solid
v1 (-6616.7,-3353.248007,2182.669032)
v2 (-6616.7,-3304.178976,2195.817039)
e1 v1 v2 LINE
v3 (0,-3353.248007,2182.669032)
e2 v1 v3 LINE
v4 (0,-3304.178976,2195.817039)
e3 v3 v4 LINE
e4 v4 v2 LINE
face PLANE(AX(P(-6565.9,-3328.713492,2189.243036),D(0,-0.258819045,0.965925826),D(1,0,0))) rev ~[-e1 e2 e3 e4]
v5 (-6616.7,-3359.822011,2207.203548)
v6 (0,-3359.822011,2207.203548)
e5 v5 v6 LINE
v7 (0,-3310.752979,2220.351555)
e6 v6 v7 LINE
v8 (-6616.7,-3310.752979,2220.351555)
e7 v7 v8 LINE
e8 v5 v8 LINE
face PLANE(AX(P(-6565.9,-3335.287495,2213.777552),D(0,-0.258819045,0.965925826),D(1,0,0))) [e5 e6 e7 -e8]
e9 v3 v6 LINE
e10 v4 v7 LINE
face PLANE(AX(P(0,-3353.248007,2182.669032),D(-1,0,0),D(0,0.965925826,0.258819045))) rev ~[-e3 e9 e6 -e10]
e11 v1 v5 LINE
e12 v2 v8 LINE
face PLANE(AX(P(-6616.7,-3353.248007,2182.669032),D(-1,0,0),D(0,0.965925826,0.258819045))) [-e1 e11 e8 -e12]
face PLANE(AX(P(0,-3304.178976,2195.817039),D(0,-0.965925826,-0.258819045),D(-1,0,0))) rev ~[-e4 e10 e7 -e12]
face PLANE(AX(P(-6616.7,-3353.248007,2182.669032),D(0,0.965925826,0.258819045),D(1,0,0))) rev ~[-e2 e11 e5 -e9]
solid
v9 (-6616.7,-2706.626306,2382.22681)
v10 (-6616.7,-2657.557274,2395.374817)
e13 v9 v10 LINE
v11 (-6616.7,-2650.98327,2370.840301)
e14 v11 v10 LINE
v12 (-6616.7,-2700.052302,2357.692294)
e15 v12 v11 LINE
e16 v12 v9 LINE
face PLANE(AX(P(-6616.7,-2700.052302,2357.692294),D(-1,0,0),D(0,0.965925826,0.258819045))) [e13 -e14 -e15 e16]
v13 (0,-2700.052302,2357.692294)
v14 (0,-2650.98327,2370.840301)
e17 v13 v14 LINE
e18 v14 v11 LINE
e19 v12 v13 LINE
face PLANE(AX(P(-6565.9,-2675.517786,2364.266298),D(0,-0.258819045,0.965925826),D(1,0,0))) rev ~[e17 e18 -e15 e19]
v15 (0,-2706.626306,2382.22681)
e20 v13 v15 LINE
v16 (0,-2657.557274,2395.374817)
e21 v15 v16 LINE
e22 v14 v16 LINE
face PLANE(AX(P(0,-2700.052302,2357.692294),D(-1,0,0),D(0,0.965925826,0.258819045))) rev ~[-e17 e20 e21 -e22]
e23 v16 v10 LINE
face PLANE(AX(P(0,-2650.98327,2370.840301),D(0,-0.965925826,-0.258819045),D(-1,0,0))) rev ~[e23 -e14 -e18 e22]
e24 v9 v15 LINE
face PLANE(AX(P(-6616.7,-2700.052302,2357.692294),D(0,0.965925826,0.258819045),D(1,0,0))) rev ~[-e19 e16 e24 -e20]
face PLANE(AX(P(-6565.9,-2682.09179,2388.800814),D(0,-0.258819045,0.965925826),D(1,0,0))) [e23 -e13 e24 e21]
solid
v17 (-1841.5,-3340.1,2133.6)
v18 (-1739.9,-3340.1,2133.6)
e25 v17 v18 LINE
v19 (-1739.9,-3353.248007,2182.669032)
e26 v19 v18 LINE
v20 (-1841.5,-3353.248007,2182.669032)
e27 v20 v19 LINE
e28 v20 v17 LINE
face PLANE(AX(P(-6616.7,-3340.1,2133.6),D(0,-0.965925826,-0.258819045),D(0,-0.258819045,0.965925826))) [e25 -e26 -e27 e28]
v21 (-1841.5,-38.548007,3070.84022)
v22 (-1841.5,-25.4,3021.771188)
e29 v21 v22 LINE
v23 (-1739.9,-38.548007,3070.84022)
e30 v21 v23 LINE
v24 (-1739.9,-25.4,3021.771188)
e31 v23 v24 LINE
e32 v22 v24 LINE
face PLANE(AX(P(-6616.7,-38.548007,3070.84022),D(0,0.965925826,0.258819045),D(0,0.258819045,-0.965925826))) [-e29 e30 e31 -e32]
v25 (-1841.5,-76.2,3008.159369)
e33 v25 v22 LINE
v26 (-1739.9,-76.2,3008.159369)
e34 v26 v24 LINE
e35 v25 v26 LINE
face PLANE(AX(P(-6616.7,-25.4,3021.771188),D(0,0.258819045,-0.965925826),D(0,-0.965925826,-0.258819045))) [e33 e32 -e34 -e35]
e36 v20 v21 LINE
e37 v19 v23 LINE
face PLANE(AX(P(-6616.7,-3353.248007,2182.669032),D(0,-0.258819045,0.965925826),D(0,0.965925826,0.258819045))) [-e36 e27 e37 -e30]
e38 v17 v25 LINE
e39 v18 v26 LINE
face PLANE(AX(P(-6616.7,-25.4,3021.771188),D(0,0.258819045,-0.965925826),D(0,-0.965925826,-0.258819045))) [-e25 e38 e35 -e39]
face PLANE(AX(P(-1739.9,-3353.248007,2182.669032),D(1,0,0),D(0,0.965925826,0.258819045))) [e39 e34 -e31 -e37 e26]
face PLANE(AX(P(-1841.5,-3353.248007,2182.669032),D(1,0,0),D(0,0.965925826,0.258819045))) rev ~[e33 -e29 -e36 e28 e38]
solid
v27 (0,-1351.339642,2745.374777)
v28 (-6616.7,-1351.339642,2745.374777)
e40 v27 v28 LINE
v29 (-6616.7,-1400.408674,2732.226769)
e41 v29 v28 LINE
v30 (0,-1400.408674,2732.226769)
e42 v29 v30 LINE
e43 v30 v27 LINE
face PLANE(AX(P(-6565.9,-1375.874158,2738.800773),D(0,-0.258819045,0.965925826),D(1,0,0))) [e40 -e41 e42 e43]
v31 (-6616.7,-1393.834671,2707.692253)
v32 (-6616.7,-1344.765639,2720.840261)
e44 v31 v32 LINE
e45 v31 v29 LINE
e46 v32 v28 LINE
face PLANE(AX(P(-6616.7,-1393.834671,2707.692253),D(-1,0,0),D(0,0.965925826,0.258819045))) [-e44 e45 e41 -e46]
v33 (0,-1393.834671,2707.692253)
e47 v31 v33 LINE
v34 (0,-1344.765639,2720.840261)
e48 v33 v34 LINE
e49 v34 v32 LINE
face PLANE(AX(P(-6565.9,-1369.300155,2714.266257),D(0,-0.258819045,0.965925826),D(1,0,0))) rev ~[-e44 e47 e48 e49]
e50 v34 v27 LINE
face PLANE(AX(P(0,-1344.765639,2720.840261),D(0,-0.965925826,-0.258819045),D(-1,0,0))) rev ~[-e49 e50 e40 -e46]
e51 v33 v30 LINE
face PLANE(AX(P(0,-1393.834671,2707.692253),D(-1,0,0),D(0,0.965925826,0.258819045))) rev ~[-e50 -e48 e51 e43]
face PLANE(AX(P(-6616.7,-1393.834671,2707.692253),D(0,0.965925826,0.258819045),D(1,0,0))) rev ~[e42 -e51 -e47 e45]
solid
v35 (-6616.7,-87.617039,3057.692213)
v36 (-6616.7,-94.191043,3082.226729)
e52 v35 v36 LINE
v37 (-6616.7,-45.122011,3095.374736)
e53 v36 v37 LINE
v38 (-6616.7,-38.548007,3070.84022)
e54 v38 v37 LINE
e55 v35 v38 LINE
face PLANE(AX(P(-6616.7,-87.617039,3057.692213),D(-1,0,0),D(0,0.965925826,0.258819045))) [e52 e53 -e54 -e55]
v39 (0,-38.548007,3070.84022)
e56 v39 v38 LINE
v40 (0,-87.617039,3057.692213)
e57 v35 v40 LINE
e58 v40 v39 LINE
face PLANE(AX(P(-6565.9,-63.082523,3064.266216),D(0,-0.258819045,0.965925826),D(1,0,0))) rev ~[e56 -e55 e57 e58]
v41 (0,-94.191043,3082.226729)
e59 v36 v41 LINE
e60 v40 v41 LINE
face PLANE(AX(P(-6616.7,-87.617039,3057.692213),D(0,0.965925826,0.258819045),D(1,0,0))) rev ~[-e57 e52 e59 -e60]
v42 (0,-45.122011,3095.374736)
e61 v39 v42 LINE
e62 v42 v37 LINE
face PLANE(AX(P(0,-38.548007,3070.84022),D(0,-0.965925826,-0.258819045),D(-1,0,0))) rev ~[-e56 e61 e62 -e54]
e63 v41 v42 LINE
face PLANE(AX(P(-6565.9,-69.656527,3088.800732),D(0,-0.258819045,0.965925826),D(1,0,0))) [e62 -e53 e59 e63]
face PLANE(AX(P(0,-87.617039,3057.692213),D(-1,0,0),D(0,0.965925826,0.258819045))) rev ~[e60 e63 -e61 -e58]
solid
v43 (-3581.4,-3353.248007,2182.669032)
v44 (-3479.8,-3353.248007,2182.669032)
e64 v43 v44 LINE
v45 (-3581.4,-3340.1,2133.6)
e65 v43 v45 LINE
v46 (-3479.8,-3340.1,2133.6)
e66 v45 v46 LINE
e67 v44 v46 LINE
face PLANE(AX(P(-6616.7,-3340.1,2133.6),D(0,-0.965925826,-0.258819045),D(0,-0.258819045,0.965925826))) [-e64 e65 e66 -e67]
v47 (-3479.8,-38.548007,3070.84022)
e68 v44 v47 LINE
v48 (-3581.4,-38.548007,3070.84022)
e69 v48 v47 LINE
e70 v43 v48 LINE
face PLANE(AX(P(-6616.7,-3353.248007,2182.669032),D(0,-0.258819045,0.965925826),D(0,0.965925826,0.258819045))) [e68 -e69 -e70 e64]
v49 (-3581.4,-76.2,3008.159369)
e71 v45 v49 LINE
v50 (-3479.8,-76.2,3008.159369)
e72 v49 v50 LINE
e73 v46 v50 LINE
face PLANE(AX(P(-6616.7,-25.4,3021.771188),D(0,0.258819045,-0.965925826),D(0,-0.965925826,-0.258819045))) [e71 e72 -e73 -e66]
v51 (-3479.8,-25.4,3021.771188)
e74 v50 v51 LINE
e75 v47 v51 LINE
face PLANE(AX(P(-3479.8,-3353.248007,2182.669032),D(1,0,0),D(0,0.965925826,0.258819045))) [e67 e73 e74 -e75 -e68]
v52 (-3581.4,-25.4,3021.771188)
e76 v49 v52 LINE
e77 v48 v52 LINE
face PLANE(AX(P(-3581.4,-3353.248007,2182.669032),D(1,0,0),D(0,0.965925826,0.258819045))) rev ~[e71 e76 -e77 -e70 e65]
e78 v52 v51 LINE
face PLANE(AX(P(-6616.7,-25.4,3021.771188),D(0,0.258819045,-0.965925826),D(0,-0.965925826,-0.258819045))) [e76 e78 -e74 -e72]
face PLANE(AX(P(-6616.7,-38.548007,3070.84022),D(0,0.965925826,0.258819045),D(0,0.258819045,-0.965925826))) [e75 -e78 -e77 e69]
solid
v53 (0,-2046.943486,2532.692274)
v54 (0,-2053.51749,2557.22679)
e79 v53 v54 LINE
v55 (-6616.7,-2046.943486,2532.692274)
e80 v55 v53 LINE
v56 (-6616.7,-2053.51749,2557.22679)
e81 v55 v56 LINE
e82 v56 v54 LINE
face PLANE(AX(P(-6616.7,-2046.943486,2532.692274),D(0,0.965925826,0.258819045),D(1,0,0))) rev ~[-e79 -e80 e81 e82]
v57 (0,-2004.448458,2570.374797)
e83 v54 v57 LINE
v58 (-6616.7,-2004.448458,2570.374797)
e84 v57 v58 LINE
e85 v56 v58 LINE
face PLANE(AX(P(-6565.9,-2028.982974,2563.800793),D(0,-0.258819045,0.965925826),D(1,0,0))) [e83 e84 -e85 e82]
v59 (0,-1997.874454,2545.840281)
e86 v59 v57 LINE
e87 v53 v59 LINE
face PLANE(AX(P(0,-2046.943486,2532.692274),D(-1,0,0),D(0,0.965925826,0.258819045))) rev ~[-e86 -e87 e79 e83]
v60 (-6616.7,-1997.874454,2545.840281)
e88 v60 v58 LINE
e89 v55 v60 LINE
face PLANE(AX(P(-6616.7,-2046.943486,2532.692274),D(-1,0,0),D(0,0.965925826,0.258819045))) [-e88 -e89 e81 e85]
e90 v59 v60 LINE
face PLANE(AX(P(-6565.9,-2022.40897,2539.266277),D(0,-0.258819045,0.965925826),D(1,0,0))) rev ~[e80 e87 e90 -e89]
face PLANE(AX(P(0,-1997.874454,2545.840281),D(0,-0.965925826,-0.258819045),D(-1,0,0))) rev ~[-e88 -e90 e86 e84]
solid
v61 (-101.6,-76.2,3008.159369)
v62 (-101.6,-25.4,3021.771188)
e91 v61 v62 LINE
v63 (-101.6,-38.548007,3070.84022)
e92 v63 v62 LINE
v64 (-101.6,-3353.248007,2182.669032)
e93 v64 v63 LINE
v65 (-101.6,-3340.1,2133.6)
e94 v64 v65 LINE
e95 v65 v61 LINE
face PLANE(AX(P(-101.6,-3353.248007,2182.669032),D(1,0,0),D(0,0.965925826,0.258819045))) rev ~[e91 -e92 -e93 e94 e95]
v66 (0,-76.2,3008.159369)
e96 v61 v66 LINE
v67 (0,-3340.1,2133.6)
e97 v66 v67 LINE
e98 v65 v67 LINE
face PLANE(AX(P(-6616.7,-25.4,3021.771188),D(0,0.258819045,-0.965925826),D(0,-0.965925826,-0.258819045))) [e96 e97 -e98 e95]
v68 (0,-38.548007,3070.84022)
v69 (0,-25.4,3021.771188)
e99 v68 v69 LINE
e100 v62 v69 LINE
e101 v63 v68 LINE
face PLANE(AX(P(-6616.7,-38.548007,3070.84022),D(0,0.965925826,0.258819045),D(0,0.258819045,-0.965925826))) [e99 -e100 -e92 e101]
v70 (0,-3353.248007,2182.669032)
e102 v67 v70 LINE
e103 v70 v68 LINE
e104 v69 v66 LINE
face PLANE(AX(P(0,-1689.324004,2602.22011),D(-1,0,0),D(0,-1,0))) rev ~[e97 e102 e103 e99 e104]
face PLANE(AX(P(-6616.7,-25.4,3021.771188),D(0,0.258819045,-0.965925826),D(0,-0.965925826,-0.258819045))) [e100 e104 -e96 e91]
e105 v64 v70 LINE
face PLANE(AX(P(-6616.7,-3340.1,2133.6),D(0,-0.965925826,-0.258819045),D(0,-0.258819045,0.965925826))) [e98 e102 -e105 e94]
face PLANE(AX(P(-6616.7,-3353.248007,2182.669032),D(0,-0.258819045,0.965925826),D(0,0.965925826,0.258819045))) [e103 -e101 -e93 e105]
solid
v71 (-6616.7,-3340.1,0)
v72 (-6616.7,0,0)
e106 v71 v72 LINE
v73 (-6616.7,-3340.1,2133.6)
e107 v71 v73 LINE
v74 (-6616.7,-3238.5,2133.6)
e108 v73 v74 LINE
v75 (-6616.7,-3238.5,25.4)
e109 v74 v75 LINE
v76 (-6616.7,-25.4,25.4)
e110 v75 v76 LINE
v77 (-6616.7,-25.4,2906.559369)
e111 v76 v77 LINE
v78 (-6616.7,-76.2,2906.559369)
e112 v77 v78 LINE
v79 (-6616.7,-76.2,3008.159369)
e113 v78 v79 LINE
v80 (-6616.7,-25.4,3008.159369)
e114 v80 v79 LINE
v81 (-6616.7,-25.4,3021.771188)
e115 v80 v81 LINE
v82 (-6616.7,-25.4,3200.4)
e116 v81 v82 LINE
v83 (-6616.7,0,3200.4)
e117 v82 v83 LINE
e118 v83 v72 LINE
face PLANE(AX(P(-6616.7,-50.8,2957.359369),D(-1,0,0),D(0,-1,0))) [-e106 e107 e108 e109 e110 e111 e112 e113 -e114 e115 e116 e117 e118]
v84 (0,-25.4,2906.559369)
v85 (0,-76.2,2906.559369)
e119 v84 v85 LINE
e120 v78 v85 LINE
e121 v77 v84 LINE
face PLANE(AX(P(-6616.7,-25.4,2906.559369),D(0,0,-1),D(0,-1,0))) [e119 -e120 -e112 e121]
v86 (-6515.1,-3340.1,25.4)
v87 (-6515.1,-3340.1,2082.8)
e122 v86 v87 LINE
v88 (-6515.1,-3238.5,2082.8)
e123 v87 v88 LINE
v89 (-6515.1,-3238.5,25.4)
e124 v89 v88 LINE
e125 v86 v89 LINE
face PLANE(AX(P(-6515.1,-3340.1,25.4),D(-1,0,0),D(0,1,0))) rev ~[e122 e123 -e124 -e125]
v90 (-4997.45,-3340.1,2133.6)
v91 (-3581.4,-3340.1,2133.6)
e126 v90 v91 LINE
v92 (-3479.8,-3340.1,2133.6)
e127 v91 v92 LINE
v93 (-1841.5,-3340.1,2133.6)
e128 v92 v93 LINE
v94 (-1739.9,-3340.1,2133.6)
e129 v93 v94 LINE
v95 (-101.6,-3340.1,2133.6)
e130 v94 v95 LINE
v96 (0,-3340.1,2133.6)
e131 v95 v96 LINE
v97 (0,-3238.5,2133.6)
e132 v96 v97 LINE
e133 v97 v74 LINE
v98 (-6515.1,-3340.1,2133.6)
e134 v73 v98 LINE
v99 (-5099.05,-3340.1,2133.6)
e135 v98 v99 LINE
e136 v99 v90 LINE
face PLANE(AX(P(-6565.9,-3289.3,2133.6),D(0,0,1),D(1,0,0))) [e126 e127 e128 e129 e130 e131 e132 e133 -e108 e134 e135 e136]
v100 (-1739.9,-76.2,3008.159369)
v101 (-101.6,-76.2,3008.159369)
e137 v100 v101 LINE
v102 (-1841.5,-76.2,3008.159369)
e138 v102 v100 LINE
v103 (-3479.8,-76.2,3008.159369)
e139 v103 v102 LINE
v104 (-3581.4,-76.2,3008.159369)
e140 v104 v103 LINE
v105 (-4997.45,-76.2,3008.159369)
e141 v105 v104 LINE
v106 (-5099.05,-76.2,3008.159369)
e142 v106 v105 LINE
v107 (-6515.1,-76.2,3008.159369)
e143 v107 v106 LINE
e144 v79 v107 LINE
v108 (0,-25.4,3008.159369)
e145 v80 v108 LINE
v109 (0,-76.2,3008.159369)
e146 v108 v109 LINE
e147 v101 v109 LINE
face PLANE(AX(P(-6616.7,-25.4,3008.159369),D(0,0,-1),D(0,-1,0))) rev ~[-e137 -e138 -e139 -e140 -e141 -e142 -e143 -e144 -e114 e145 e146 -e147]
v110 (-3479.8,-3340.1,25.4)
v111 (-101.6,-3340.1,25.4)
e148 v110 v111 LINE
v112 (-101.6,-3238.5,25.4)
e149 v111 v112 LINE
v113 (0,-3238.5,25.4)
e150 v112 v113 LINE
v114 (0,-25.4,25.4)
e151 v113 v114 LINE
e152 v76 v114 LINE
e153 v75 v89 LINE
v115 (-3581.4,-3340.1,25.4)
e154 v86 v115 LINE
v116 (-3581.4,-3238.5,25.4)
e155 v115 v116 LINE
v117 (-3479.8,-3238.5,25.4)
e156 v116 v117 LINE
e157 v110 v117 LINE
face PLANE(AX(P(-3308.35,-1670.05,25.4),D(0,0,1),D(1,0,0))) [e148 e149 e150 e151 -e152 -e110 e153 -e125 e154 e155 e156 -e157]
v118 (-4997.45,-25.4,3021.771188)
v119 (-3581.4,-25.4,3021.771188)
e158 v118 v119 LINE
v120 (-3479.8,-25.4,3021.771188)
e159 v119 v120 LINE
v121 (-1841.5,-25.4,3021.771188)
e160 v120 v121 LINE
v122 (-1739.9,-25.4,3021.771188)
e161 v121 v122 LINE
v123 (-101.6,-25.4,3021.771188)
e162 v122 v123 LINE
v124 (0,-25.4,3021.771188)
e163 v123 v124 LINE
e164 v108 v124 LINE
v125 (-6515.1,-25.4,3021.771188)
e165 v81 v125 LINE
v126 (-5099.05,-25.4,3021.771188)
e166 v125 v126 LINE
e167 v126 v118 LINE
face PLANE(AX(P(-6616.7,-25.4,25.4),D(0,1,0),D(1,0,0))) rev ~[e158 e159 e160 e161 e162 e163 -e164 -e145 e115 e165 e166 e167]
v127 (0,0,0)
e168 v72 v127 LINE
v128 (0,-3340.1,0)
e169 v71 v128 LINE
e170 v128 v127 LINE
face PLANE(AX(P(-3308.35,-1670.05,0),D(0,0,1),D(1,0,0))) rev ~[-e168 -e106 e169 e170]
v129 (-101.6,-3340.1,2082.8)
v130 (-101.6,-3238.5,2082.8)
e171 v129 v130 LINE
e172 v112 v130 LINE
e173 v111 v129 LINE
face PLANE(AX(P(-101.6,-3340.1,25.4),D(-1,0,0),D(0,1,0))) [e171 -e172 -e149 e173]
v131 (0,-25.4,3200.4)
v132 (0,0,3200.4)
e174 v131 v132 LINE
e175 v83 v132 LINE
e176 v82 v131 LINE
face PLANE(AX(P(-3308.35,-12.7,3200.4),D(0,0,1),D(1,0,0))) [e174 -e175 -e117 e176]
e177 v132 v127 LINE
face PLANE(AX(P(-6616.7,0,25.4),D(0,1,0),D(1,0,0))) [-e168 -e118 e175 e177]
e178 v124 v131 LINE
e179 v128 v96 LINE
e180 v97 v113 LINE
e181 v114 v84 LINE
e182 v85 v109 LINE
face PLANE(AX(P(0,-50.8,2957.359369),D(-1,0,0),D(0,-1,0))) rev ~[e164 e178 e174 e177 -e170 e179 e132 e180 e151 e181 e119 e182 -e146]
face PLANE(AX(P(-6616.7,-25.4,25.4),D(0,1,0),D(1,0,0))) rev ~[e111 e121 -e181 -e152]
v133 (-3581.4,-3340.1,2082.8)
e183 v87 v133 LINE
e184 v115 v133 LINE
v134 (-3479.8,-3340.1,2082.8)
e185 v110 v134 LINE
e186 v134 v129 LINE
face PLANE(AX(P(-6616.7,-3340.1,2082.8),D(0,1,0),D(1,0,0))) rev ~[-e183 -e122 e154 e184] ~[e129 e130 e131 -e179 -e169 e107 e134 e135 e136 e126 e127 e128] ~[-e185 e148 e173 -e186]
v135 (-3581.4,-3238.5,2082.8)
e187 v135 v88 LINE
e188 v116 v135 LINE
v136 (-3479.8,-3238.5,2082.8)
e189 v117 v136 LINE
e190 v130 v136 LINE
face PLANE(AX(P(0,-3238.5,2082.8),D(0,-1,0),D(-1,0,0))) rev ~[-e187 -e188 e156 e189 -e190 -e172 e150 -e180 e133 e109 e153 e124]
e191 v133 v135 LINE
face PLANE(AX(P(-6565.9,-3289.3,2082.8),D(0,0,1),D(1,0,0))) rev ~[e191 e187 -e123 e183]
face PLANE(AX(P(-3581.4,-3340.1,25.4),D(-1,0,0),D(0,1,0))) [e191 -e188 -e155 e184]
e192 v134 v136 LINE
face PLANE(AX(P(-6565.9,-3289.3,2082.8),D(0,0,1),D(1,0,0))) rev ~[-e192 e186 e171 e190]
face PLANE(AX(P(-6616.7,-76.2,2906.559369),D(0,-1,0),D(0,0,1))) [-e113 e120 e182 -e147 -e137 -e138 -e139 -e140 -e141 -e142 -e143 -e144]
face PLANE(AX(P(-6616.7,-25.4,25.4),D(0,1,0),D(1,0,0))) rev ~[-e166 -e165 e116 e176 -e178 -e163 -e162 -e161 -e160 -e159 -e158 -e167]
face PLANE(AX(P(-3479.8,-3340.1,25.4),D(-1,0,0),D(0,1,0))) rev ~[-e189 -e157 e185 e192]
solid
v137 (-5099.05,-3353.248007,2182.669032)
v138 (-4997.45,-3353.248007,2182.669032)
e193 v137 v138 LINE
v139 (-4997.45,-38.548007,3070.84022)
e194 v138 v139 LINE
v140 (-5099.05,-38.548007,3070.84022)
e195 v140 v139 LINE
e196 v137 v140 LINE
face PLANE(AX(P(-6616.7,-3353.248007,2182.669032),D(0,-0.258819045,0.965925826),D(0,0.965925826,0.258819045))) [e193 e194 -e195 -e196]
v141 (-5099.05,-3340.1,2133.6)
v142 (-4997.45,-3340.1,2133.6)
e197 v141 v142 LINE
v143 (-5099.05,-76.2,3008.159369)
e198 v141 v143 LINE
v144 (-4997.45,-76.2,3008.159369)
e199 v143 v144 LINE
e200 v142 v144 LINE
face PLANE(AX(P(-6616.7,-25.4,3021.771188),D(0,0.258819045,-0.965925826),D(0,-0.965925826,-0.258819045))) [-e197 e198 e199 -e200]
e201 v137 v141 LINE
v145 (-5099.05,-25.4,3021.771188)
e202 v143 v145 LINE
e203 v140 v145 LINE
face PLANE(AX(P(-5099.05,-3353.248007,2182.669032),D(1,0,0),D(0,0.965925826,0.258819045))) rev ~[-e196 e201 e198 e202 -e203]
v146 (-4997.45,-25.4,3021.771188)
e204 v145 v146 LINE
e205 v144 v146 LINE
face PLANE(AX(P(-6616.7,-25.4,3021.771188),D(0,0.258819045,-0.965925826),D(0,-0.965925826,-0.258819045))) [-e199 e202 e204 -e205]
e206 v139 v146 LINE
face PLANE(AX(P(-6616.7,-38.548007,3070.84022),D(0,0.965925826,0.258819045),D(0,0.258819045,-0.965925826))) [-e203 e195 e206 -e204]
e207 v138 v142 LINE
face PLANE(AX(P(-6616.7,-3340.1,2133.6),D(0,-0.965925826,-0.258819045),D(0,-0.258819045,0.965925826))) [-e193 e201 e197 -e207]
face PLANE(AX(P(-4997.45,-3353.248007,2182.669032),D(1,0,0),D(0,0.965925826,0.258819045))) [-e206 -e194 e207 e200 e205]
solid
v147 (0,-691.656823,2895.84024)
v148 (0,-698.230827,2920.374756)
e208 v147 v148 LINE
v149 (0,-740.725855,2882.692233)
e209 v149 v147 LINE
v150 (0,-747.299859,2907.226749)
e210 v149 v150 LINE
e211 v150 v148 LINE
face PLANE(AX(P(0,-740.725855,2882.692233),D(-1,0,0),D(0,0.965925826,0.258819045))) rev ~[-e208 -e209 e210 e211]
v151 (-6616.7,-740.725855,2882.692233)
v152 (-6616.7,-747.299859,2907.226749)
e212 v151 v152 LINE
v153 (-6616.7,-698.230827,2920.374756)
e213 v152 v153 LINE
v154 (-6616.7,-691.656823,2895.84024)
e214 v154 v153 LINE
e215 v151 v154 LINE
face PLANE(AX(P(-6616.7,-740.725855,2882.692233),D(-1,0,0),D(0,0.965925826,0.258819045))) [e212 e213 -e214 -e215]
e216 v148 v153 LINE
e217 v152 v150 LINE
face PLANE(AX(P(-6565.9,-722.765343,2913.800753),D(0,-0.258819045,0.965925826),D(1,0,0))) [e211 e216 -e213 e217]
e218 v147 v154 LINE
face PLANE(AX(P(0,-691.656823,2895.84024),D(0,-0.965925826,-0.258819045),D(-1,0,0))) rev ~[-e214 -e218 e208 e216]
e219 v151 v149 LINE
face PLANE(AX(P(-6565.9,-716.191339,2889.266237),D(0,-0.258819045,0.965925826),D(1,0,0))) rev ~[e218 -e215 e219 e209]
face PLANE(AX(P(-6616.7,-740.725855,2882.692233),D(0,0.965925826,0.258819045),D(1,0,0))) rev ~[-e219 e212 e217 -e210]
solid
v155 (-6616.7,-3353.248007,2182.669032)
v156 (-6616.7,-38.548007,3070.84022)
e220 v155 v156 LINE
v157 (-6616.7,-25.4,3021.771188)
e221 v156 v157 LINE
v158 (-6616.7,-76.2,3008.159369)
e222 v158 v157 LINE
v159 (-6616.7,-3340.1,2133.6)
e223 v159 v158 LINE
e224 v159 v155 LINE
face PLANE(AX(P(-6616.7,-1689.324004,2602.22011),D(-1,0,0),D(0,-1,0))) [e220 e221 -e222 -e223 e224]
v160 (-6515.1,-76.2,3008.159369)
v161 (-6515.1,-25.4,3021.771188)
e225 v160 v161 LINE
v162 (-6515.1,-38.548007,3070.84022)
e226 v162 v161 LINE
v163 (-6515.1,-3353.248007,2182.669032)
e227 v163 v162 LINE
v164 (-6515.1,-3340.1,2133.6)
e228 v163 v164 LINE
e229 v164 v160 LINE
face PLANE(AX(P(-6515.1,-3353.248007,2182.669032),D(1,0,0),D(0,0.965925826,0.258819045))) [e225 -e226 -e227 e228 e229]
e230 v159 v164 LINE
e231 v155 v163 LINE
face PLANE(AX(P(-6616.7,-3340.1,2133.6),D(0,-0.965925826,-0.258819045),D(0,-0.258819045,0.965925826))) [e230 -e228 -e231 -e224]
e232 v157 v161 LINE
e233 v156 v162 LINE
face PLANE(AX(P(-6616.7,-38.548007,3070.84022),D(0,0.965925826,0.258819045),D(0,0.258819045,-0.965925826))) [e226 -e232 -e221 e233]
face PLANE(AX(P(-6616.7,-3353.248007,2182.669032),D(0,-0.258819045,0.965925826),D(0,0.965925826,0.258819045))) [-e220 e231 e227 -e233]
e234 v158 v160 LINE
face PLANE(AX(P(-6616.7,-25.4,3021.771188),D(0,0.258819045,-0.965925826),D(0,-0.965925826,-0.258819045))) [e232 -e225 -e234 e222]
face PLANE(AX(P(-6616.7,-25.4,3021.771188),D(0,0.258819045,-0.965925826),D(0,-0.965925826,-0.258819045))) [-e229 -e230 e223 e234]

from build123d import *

# Parameters (mm, degrees)
F0_W      = 6616.7
F0_H      = 3340.1
F1_DEPTH  = 25.4
F2_W      = 6616.7
F2_H      = 25.4
F3_DEPTH  = 3175
F4_W      = 101.6
F4_H      = 101.6
F5_DEPTH  = 2057.4
F6_W      = 101.6
F6_H      = 101.6
F6_W_2    = 6515.1
F7_DEPTH  = 50.8
F8_W      = 50.8
F8_H      = 101.6
F9_DEPTH  = 6616.7
F10_W     = 1416.05
F10_H     = 3431.6299552053
F10_W_2   = 1638.3
F11_DEPTH = 50.8
F12_W     = 101.6
F12_H     = 50.8
F12_W_2   = 6515.1
F13_DEPTH = 25.4


with BuildPart() as f1:
    # F0 (on Top) → F1 (new body)
    with BuildSketch(Plane.XY):
        with Locations((-3308.35, -1670.05)):
            Rectangle(F0_W, F0_H)
    extrude(amount=F1_DEPTH)

    # F2 (on face) → F3 (join)
    with BuildSketch(Plane.XY.offset(25.4)):
        with Locations((-3308.35, -12.7)):
            Rectangle(F2_W, F2_H)
    extrude(amount=F3_DEPTH)

    # F4 (on face) → F5 (join)
    with BuildSketch(Plane.XY.offset(25.4)):
        with Locations((-6565.9, -3289.3)):
            Rectangle(F4_W, F4_H)
        with Locations((-3530.6, -3289.3)):
            Rectangle(F4_W, F4_H)
        with Locations((-50.8, -3289.3)):
            Rectangle(F4_W, F4_H)
    extrude(amount=F5_DEPTH)

    # F6 (on face) → F7 (join)
    with BuildSketch(Plane.XY.offset(2082.8)):
        with Locations((-6565.9, -3289.3)):
            Rectangle(F6_W, F6_H)
        with Locations((-3257.55, -3289.3)):
            Rectangle(F6_W_2, F6_H)
    extrude(amount=F7_DEPTH)

    # F8 (on face) → F9 (join)
    with BuildSketch(Plane(origin=(-6616.7, 0, 0), x_dir=(0, -1, 0), z_dir=(-1, 0, 0))):
        with Locations((50.8, 2957.3593691759)):
            Rectangle(F8_W, F8_H)
        Polygon((25.4, 3021.7711881514), (76.2, 3008.1593691759), (3340.1, 2133.6), (3353.2480074912, 2182.6690319755), (38.5480074912, 3070.8402201269), align=None)
    extrude(amount=-F9_DEPTH)

    # F10 (on face) → F11 (cut)
    with BuildSketch(Plane(origin=(0, -770.292281901, 2874.7699327327), x_dir=(1, 0, 0), z_dir=(0, -0.2588190451, 0.9659258263))):
        with Locations((-5807.075, -958.2575601547)):
            Rectangle(F10_W, F10_H)
        with Locations((-4289.425, -958.2575601547)):
            Rectangle(F10_W, F10_H)
        with Locations((-2660.65, -958.2575601547)):
            Rectangle(F10_W_2, F10_H)
        with Locations((-920.75, -958.2575601547)):
            Rectangle(F10_W_2, F10_H)
    extrude(amount=-F11_DEPTH, mode=Mode.SUBTRACT)


with BuildPart() as f13:
    # F12 (on face) → F13 (new body)
    with BuildSketch(Plane(origin=(0, -770.292281901, 2874.7699327327), x_dir=(1, 0, 0), z_dir=(0, -0.2588190451, 0.9659258263))):
        with Locations((-6565.9, 732.1574174479)):
            Rectangle(F12_W, F12_H)
        with Locations((-3257.55, 732.1574174479)):
            Rectangle(F12_W_2, F12_H)
    extrude(amount=F13_DEPTH)


with BuildPart() as f13b:
    # F12 (on face) → F13, piece 2 (new body)
    with BuildSketch(Plane(origin=(0, -770.292281901, 2874.7699327327), x_dir=(1, 0, 0), z_dir=(0, -0.2588190451, 0.9659258263))):
        with Locations((-6565.9, 56.0094174479)):
            Rectangle(F12_W, F12_H)
        with Locations((-3257.55, 56.0094174479)):
            Rectangle(F12_W_2, F12_H)
    extrude(amount=F13_DEPTH)


with BuildPart() as f13c:
    # F12 (on face) → F13, piece 3 (new body)
    with BuildSketch(Plane(origin=(0, -770.292281901, 2874.7699327327), x_dir=(1, 0, 0), z_dir=(0, -0.2588190451, 0.9659258263))):
        with Locations((-6565.9, -620.1385825521)):
            Rectangle(F12_W, F12_H)
        with Locations((-3257.55, -620.1385825521)):
            Rectangle(F12_W_2, F12_H)
    extrude(amount=F13_DEPTH)


with BuildPart() as f13d:
    # F12 (on face) → F13, piece 4 (new body)
    with BuildSketch(Plane(origin=(0, -770.292281901, 2874.7699327327), x_dir=(1, 0, 0), z_dir=(0, -0.2588190451, 0.9659258263))):
        with Locations((-6565.9, -2648.6725377574)):
            Rectangle(F12_W, F12_H)
        with Locations((-3257.55, -2648.6725377574)):
            Rectangle(F12_W_2, F12_H)
    extrude(amount=F13_DEPTH)


with BuildPart() as f13e:
    # F12 (on face) → F13, piece 5 (new body)
    with BuildSketch(Plane(origin=(0, -770.292281901, 2874.7699327327), x_dir=(1, 0, 0), z_dir=(0, -0.2588190451, 0.9659258263))):
        with Locations((-6565.9, -1972.4345825521)):
            Rectangle(F12_W, F12_H)
        with Locations((-3257.55, -1972.4345825521)):
            Rectangle(F12_W_2, F12_H)
    extrude(amount=F13_DEPTH)


with BuildPart() as f13f:
    # F12 (on face) → F13, piece 6 (new body)
    with BuildSketch(Plane(origin=(0, -770.292281901, 2874.7699327327), x_dir=(1, 0, 0), z_dir=(0, -0.2588190451, 0.9659258263))):
        with Locations((-6565.9, -1296.2865825521)):
            Rectangle(F12_W, F12_H)
        with Locations((-3257.55, -1296.2865825521)):
            Rectangle(F12_W_2, F12_H)
    extrude(amount=F13_DEPTH)


solid = Compound([f1.part, f13.part, f13b.part, f13c.part, f13d.part, f13e.part, f13f.part])
